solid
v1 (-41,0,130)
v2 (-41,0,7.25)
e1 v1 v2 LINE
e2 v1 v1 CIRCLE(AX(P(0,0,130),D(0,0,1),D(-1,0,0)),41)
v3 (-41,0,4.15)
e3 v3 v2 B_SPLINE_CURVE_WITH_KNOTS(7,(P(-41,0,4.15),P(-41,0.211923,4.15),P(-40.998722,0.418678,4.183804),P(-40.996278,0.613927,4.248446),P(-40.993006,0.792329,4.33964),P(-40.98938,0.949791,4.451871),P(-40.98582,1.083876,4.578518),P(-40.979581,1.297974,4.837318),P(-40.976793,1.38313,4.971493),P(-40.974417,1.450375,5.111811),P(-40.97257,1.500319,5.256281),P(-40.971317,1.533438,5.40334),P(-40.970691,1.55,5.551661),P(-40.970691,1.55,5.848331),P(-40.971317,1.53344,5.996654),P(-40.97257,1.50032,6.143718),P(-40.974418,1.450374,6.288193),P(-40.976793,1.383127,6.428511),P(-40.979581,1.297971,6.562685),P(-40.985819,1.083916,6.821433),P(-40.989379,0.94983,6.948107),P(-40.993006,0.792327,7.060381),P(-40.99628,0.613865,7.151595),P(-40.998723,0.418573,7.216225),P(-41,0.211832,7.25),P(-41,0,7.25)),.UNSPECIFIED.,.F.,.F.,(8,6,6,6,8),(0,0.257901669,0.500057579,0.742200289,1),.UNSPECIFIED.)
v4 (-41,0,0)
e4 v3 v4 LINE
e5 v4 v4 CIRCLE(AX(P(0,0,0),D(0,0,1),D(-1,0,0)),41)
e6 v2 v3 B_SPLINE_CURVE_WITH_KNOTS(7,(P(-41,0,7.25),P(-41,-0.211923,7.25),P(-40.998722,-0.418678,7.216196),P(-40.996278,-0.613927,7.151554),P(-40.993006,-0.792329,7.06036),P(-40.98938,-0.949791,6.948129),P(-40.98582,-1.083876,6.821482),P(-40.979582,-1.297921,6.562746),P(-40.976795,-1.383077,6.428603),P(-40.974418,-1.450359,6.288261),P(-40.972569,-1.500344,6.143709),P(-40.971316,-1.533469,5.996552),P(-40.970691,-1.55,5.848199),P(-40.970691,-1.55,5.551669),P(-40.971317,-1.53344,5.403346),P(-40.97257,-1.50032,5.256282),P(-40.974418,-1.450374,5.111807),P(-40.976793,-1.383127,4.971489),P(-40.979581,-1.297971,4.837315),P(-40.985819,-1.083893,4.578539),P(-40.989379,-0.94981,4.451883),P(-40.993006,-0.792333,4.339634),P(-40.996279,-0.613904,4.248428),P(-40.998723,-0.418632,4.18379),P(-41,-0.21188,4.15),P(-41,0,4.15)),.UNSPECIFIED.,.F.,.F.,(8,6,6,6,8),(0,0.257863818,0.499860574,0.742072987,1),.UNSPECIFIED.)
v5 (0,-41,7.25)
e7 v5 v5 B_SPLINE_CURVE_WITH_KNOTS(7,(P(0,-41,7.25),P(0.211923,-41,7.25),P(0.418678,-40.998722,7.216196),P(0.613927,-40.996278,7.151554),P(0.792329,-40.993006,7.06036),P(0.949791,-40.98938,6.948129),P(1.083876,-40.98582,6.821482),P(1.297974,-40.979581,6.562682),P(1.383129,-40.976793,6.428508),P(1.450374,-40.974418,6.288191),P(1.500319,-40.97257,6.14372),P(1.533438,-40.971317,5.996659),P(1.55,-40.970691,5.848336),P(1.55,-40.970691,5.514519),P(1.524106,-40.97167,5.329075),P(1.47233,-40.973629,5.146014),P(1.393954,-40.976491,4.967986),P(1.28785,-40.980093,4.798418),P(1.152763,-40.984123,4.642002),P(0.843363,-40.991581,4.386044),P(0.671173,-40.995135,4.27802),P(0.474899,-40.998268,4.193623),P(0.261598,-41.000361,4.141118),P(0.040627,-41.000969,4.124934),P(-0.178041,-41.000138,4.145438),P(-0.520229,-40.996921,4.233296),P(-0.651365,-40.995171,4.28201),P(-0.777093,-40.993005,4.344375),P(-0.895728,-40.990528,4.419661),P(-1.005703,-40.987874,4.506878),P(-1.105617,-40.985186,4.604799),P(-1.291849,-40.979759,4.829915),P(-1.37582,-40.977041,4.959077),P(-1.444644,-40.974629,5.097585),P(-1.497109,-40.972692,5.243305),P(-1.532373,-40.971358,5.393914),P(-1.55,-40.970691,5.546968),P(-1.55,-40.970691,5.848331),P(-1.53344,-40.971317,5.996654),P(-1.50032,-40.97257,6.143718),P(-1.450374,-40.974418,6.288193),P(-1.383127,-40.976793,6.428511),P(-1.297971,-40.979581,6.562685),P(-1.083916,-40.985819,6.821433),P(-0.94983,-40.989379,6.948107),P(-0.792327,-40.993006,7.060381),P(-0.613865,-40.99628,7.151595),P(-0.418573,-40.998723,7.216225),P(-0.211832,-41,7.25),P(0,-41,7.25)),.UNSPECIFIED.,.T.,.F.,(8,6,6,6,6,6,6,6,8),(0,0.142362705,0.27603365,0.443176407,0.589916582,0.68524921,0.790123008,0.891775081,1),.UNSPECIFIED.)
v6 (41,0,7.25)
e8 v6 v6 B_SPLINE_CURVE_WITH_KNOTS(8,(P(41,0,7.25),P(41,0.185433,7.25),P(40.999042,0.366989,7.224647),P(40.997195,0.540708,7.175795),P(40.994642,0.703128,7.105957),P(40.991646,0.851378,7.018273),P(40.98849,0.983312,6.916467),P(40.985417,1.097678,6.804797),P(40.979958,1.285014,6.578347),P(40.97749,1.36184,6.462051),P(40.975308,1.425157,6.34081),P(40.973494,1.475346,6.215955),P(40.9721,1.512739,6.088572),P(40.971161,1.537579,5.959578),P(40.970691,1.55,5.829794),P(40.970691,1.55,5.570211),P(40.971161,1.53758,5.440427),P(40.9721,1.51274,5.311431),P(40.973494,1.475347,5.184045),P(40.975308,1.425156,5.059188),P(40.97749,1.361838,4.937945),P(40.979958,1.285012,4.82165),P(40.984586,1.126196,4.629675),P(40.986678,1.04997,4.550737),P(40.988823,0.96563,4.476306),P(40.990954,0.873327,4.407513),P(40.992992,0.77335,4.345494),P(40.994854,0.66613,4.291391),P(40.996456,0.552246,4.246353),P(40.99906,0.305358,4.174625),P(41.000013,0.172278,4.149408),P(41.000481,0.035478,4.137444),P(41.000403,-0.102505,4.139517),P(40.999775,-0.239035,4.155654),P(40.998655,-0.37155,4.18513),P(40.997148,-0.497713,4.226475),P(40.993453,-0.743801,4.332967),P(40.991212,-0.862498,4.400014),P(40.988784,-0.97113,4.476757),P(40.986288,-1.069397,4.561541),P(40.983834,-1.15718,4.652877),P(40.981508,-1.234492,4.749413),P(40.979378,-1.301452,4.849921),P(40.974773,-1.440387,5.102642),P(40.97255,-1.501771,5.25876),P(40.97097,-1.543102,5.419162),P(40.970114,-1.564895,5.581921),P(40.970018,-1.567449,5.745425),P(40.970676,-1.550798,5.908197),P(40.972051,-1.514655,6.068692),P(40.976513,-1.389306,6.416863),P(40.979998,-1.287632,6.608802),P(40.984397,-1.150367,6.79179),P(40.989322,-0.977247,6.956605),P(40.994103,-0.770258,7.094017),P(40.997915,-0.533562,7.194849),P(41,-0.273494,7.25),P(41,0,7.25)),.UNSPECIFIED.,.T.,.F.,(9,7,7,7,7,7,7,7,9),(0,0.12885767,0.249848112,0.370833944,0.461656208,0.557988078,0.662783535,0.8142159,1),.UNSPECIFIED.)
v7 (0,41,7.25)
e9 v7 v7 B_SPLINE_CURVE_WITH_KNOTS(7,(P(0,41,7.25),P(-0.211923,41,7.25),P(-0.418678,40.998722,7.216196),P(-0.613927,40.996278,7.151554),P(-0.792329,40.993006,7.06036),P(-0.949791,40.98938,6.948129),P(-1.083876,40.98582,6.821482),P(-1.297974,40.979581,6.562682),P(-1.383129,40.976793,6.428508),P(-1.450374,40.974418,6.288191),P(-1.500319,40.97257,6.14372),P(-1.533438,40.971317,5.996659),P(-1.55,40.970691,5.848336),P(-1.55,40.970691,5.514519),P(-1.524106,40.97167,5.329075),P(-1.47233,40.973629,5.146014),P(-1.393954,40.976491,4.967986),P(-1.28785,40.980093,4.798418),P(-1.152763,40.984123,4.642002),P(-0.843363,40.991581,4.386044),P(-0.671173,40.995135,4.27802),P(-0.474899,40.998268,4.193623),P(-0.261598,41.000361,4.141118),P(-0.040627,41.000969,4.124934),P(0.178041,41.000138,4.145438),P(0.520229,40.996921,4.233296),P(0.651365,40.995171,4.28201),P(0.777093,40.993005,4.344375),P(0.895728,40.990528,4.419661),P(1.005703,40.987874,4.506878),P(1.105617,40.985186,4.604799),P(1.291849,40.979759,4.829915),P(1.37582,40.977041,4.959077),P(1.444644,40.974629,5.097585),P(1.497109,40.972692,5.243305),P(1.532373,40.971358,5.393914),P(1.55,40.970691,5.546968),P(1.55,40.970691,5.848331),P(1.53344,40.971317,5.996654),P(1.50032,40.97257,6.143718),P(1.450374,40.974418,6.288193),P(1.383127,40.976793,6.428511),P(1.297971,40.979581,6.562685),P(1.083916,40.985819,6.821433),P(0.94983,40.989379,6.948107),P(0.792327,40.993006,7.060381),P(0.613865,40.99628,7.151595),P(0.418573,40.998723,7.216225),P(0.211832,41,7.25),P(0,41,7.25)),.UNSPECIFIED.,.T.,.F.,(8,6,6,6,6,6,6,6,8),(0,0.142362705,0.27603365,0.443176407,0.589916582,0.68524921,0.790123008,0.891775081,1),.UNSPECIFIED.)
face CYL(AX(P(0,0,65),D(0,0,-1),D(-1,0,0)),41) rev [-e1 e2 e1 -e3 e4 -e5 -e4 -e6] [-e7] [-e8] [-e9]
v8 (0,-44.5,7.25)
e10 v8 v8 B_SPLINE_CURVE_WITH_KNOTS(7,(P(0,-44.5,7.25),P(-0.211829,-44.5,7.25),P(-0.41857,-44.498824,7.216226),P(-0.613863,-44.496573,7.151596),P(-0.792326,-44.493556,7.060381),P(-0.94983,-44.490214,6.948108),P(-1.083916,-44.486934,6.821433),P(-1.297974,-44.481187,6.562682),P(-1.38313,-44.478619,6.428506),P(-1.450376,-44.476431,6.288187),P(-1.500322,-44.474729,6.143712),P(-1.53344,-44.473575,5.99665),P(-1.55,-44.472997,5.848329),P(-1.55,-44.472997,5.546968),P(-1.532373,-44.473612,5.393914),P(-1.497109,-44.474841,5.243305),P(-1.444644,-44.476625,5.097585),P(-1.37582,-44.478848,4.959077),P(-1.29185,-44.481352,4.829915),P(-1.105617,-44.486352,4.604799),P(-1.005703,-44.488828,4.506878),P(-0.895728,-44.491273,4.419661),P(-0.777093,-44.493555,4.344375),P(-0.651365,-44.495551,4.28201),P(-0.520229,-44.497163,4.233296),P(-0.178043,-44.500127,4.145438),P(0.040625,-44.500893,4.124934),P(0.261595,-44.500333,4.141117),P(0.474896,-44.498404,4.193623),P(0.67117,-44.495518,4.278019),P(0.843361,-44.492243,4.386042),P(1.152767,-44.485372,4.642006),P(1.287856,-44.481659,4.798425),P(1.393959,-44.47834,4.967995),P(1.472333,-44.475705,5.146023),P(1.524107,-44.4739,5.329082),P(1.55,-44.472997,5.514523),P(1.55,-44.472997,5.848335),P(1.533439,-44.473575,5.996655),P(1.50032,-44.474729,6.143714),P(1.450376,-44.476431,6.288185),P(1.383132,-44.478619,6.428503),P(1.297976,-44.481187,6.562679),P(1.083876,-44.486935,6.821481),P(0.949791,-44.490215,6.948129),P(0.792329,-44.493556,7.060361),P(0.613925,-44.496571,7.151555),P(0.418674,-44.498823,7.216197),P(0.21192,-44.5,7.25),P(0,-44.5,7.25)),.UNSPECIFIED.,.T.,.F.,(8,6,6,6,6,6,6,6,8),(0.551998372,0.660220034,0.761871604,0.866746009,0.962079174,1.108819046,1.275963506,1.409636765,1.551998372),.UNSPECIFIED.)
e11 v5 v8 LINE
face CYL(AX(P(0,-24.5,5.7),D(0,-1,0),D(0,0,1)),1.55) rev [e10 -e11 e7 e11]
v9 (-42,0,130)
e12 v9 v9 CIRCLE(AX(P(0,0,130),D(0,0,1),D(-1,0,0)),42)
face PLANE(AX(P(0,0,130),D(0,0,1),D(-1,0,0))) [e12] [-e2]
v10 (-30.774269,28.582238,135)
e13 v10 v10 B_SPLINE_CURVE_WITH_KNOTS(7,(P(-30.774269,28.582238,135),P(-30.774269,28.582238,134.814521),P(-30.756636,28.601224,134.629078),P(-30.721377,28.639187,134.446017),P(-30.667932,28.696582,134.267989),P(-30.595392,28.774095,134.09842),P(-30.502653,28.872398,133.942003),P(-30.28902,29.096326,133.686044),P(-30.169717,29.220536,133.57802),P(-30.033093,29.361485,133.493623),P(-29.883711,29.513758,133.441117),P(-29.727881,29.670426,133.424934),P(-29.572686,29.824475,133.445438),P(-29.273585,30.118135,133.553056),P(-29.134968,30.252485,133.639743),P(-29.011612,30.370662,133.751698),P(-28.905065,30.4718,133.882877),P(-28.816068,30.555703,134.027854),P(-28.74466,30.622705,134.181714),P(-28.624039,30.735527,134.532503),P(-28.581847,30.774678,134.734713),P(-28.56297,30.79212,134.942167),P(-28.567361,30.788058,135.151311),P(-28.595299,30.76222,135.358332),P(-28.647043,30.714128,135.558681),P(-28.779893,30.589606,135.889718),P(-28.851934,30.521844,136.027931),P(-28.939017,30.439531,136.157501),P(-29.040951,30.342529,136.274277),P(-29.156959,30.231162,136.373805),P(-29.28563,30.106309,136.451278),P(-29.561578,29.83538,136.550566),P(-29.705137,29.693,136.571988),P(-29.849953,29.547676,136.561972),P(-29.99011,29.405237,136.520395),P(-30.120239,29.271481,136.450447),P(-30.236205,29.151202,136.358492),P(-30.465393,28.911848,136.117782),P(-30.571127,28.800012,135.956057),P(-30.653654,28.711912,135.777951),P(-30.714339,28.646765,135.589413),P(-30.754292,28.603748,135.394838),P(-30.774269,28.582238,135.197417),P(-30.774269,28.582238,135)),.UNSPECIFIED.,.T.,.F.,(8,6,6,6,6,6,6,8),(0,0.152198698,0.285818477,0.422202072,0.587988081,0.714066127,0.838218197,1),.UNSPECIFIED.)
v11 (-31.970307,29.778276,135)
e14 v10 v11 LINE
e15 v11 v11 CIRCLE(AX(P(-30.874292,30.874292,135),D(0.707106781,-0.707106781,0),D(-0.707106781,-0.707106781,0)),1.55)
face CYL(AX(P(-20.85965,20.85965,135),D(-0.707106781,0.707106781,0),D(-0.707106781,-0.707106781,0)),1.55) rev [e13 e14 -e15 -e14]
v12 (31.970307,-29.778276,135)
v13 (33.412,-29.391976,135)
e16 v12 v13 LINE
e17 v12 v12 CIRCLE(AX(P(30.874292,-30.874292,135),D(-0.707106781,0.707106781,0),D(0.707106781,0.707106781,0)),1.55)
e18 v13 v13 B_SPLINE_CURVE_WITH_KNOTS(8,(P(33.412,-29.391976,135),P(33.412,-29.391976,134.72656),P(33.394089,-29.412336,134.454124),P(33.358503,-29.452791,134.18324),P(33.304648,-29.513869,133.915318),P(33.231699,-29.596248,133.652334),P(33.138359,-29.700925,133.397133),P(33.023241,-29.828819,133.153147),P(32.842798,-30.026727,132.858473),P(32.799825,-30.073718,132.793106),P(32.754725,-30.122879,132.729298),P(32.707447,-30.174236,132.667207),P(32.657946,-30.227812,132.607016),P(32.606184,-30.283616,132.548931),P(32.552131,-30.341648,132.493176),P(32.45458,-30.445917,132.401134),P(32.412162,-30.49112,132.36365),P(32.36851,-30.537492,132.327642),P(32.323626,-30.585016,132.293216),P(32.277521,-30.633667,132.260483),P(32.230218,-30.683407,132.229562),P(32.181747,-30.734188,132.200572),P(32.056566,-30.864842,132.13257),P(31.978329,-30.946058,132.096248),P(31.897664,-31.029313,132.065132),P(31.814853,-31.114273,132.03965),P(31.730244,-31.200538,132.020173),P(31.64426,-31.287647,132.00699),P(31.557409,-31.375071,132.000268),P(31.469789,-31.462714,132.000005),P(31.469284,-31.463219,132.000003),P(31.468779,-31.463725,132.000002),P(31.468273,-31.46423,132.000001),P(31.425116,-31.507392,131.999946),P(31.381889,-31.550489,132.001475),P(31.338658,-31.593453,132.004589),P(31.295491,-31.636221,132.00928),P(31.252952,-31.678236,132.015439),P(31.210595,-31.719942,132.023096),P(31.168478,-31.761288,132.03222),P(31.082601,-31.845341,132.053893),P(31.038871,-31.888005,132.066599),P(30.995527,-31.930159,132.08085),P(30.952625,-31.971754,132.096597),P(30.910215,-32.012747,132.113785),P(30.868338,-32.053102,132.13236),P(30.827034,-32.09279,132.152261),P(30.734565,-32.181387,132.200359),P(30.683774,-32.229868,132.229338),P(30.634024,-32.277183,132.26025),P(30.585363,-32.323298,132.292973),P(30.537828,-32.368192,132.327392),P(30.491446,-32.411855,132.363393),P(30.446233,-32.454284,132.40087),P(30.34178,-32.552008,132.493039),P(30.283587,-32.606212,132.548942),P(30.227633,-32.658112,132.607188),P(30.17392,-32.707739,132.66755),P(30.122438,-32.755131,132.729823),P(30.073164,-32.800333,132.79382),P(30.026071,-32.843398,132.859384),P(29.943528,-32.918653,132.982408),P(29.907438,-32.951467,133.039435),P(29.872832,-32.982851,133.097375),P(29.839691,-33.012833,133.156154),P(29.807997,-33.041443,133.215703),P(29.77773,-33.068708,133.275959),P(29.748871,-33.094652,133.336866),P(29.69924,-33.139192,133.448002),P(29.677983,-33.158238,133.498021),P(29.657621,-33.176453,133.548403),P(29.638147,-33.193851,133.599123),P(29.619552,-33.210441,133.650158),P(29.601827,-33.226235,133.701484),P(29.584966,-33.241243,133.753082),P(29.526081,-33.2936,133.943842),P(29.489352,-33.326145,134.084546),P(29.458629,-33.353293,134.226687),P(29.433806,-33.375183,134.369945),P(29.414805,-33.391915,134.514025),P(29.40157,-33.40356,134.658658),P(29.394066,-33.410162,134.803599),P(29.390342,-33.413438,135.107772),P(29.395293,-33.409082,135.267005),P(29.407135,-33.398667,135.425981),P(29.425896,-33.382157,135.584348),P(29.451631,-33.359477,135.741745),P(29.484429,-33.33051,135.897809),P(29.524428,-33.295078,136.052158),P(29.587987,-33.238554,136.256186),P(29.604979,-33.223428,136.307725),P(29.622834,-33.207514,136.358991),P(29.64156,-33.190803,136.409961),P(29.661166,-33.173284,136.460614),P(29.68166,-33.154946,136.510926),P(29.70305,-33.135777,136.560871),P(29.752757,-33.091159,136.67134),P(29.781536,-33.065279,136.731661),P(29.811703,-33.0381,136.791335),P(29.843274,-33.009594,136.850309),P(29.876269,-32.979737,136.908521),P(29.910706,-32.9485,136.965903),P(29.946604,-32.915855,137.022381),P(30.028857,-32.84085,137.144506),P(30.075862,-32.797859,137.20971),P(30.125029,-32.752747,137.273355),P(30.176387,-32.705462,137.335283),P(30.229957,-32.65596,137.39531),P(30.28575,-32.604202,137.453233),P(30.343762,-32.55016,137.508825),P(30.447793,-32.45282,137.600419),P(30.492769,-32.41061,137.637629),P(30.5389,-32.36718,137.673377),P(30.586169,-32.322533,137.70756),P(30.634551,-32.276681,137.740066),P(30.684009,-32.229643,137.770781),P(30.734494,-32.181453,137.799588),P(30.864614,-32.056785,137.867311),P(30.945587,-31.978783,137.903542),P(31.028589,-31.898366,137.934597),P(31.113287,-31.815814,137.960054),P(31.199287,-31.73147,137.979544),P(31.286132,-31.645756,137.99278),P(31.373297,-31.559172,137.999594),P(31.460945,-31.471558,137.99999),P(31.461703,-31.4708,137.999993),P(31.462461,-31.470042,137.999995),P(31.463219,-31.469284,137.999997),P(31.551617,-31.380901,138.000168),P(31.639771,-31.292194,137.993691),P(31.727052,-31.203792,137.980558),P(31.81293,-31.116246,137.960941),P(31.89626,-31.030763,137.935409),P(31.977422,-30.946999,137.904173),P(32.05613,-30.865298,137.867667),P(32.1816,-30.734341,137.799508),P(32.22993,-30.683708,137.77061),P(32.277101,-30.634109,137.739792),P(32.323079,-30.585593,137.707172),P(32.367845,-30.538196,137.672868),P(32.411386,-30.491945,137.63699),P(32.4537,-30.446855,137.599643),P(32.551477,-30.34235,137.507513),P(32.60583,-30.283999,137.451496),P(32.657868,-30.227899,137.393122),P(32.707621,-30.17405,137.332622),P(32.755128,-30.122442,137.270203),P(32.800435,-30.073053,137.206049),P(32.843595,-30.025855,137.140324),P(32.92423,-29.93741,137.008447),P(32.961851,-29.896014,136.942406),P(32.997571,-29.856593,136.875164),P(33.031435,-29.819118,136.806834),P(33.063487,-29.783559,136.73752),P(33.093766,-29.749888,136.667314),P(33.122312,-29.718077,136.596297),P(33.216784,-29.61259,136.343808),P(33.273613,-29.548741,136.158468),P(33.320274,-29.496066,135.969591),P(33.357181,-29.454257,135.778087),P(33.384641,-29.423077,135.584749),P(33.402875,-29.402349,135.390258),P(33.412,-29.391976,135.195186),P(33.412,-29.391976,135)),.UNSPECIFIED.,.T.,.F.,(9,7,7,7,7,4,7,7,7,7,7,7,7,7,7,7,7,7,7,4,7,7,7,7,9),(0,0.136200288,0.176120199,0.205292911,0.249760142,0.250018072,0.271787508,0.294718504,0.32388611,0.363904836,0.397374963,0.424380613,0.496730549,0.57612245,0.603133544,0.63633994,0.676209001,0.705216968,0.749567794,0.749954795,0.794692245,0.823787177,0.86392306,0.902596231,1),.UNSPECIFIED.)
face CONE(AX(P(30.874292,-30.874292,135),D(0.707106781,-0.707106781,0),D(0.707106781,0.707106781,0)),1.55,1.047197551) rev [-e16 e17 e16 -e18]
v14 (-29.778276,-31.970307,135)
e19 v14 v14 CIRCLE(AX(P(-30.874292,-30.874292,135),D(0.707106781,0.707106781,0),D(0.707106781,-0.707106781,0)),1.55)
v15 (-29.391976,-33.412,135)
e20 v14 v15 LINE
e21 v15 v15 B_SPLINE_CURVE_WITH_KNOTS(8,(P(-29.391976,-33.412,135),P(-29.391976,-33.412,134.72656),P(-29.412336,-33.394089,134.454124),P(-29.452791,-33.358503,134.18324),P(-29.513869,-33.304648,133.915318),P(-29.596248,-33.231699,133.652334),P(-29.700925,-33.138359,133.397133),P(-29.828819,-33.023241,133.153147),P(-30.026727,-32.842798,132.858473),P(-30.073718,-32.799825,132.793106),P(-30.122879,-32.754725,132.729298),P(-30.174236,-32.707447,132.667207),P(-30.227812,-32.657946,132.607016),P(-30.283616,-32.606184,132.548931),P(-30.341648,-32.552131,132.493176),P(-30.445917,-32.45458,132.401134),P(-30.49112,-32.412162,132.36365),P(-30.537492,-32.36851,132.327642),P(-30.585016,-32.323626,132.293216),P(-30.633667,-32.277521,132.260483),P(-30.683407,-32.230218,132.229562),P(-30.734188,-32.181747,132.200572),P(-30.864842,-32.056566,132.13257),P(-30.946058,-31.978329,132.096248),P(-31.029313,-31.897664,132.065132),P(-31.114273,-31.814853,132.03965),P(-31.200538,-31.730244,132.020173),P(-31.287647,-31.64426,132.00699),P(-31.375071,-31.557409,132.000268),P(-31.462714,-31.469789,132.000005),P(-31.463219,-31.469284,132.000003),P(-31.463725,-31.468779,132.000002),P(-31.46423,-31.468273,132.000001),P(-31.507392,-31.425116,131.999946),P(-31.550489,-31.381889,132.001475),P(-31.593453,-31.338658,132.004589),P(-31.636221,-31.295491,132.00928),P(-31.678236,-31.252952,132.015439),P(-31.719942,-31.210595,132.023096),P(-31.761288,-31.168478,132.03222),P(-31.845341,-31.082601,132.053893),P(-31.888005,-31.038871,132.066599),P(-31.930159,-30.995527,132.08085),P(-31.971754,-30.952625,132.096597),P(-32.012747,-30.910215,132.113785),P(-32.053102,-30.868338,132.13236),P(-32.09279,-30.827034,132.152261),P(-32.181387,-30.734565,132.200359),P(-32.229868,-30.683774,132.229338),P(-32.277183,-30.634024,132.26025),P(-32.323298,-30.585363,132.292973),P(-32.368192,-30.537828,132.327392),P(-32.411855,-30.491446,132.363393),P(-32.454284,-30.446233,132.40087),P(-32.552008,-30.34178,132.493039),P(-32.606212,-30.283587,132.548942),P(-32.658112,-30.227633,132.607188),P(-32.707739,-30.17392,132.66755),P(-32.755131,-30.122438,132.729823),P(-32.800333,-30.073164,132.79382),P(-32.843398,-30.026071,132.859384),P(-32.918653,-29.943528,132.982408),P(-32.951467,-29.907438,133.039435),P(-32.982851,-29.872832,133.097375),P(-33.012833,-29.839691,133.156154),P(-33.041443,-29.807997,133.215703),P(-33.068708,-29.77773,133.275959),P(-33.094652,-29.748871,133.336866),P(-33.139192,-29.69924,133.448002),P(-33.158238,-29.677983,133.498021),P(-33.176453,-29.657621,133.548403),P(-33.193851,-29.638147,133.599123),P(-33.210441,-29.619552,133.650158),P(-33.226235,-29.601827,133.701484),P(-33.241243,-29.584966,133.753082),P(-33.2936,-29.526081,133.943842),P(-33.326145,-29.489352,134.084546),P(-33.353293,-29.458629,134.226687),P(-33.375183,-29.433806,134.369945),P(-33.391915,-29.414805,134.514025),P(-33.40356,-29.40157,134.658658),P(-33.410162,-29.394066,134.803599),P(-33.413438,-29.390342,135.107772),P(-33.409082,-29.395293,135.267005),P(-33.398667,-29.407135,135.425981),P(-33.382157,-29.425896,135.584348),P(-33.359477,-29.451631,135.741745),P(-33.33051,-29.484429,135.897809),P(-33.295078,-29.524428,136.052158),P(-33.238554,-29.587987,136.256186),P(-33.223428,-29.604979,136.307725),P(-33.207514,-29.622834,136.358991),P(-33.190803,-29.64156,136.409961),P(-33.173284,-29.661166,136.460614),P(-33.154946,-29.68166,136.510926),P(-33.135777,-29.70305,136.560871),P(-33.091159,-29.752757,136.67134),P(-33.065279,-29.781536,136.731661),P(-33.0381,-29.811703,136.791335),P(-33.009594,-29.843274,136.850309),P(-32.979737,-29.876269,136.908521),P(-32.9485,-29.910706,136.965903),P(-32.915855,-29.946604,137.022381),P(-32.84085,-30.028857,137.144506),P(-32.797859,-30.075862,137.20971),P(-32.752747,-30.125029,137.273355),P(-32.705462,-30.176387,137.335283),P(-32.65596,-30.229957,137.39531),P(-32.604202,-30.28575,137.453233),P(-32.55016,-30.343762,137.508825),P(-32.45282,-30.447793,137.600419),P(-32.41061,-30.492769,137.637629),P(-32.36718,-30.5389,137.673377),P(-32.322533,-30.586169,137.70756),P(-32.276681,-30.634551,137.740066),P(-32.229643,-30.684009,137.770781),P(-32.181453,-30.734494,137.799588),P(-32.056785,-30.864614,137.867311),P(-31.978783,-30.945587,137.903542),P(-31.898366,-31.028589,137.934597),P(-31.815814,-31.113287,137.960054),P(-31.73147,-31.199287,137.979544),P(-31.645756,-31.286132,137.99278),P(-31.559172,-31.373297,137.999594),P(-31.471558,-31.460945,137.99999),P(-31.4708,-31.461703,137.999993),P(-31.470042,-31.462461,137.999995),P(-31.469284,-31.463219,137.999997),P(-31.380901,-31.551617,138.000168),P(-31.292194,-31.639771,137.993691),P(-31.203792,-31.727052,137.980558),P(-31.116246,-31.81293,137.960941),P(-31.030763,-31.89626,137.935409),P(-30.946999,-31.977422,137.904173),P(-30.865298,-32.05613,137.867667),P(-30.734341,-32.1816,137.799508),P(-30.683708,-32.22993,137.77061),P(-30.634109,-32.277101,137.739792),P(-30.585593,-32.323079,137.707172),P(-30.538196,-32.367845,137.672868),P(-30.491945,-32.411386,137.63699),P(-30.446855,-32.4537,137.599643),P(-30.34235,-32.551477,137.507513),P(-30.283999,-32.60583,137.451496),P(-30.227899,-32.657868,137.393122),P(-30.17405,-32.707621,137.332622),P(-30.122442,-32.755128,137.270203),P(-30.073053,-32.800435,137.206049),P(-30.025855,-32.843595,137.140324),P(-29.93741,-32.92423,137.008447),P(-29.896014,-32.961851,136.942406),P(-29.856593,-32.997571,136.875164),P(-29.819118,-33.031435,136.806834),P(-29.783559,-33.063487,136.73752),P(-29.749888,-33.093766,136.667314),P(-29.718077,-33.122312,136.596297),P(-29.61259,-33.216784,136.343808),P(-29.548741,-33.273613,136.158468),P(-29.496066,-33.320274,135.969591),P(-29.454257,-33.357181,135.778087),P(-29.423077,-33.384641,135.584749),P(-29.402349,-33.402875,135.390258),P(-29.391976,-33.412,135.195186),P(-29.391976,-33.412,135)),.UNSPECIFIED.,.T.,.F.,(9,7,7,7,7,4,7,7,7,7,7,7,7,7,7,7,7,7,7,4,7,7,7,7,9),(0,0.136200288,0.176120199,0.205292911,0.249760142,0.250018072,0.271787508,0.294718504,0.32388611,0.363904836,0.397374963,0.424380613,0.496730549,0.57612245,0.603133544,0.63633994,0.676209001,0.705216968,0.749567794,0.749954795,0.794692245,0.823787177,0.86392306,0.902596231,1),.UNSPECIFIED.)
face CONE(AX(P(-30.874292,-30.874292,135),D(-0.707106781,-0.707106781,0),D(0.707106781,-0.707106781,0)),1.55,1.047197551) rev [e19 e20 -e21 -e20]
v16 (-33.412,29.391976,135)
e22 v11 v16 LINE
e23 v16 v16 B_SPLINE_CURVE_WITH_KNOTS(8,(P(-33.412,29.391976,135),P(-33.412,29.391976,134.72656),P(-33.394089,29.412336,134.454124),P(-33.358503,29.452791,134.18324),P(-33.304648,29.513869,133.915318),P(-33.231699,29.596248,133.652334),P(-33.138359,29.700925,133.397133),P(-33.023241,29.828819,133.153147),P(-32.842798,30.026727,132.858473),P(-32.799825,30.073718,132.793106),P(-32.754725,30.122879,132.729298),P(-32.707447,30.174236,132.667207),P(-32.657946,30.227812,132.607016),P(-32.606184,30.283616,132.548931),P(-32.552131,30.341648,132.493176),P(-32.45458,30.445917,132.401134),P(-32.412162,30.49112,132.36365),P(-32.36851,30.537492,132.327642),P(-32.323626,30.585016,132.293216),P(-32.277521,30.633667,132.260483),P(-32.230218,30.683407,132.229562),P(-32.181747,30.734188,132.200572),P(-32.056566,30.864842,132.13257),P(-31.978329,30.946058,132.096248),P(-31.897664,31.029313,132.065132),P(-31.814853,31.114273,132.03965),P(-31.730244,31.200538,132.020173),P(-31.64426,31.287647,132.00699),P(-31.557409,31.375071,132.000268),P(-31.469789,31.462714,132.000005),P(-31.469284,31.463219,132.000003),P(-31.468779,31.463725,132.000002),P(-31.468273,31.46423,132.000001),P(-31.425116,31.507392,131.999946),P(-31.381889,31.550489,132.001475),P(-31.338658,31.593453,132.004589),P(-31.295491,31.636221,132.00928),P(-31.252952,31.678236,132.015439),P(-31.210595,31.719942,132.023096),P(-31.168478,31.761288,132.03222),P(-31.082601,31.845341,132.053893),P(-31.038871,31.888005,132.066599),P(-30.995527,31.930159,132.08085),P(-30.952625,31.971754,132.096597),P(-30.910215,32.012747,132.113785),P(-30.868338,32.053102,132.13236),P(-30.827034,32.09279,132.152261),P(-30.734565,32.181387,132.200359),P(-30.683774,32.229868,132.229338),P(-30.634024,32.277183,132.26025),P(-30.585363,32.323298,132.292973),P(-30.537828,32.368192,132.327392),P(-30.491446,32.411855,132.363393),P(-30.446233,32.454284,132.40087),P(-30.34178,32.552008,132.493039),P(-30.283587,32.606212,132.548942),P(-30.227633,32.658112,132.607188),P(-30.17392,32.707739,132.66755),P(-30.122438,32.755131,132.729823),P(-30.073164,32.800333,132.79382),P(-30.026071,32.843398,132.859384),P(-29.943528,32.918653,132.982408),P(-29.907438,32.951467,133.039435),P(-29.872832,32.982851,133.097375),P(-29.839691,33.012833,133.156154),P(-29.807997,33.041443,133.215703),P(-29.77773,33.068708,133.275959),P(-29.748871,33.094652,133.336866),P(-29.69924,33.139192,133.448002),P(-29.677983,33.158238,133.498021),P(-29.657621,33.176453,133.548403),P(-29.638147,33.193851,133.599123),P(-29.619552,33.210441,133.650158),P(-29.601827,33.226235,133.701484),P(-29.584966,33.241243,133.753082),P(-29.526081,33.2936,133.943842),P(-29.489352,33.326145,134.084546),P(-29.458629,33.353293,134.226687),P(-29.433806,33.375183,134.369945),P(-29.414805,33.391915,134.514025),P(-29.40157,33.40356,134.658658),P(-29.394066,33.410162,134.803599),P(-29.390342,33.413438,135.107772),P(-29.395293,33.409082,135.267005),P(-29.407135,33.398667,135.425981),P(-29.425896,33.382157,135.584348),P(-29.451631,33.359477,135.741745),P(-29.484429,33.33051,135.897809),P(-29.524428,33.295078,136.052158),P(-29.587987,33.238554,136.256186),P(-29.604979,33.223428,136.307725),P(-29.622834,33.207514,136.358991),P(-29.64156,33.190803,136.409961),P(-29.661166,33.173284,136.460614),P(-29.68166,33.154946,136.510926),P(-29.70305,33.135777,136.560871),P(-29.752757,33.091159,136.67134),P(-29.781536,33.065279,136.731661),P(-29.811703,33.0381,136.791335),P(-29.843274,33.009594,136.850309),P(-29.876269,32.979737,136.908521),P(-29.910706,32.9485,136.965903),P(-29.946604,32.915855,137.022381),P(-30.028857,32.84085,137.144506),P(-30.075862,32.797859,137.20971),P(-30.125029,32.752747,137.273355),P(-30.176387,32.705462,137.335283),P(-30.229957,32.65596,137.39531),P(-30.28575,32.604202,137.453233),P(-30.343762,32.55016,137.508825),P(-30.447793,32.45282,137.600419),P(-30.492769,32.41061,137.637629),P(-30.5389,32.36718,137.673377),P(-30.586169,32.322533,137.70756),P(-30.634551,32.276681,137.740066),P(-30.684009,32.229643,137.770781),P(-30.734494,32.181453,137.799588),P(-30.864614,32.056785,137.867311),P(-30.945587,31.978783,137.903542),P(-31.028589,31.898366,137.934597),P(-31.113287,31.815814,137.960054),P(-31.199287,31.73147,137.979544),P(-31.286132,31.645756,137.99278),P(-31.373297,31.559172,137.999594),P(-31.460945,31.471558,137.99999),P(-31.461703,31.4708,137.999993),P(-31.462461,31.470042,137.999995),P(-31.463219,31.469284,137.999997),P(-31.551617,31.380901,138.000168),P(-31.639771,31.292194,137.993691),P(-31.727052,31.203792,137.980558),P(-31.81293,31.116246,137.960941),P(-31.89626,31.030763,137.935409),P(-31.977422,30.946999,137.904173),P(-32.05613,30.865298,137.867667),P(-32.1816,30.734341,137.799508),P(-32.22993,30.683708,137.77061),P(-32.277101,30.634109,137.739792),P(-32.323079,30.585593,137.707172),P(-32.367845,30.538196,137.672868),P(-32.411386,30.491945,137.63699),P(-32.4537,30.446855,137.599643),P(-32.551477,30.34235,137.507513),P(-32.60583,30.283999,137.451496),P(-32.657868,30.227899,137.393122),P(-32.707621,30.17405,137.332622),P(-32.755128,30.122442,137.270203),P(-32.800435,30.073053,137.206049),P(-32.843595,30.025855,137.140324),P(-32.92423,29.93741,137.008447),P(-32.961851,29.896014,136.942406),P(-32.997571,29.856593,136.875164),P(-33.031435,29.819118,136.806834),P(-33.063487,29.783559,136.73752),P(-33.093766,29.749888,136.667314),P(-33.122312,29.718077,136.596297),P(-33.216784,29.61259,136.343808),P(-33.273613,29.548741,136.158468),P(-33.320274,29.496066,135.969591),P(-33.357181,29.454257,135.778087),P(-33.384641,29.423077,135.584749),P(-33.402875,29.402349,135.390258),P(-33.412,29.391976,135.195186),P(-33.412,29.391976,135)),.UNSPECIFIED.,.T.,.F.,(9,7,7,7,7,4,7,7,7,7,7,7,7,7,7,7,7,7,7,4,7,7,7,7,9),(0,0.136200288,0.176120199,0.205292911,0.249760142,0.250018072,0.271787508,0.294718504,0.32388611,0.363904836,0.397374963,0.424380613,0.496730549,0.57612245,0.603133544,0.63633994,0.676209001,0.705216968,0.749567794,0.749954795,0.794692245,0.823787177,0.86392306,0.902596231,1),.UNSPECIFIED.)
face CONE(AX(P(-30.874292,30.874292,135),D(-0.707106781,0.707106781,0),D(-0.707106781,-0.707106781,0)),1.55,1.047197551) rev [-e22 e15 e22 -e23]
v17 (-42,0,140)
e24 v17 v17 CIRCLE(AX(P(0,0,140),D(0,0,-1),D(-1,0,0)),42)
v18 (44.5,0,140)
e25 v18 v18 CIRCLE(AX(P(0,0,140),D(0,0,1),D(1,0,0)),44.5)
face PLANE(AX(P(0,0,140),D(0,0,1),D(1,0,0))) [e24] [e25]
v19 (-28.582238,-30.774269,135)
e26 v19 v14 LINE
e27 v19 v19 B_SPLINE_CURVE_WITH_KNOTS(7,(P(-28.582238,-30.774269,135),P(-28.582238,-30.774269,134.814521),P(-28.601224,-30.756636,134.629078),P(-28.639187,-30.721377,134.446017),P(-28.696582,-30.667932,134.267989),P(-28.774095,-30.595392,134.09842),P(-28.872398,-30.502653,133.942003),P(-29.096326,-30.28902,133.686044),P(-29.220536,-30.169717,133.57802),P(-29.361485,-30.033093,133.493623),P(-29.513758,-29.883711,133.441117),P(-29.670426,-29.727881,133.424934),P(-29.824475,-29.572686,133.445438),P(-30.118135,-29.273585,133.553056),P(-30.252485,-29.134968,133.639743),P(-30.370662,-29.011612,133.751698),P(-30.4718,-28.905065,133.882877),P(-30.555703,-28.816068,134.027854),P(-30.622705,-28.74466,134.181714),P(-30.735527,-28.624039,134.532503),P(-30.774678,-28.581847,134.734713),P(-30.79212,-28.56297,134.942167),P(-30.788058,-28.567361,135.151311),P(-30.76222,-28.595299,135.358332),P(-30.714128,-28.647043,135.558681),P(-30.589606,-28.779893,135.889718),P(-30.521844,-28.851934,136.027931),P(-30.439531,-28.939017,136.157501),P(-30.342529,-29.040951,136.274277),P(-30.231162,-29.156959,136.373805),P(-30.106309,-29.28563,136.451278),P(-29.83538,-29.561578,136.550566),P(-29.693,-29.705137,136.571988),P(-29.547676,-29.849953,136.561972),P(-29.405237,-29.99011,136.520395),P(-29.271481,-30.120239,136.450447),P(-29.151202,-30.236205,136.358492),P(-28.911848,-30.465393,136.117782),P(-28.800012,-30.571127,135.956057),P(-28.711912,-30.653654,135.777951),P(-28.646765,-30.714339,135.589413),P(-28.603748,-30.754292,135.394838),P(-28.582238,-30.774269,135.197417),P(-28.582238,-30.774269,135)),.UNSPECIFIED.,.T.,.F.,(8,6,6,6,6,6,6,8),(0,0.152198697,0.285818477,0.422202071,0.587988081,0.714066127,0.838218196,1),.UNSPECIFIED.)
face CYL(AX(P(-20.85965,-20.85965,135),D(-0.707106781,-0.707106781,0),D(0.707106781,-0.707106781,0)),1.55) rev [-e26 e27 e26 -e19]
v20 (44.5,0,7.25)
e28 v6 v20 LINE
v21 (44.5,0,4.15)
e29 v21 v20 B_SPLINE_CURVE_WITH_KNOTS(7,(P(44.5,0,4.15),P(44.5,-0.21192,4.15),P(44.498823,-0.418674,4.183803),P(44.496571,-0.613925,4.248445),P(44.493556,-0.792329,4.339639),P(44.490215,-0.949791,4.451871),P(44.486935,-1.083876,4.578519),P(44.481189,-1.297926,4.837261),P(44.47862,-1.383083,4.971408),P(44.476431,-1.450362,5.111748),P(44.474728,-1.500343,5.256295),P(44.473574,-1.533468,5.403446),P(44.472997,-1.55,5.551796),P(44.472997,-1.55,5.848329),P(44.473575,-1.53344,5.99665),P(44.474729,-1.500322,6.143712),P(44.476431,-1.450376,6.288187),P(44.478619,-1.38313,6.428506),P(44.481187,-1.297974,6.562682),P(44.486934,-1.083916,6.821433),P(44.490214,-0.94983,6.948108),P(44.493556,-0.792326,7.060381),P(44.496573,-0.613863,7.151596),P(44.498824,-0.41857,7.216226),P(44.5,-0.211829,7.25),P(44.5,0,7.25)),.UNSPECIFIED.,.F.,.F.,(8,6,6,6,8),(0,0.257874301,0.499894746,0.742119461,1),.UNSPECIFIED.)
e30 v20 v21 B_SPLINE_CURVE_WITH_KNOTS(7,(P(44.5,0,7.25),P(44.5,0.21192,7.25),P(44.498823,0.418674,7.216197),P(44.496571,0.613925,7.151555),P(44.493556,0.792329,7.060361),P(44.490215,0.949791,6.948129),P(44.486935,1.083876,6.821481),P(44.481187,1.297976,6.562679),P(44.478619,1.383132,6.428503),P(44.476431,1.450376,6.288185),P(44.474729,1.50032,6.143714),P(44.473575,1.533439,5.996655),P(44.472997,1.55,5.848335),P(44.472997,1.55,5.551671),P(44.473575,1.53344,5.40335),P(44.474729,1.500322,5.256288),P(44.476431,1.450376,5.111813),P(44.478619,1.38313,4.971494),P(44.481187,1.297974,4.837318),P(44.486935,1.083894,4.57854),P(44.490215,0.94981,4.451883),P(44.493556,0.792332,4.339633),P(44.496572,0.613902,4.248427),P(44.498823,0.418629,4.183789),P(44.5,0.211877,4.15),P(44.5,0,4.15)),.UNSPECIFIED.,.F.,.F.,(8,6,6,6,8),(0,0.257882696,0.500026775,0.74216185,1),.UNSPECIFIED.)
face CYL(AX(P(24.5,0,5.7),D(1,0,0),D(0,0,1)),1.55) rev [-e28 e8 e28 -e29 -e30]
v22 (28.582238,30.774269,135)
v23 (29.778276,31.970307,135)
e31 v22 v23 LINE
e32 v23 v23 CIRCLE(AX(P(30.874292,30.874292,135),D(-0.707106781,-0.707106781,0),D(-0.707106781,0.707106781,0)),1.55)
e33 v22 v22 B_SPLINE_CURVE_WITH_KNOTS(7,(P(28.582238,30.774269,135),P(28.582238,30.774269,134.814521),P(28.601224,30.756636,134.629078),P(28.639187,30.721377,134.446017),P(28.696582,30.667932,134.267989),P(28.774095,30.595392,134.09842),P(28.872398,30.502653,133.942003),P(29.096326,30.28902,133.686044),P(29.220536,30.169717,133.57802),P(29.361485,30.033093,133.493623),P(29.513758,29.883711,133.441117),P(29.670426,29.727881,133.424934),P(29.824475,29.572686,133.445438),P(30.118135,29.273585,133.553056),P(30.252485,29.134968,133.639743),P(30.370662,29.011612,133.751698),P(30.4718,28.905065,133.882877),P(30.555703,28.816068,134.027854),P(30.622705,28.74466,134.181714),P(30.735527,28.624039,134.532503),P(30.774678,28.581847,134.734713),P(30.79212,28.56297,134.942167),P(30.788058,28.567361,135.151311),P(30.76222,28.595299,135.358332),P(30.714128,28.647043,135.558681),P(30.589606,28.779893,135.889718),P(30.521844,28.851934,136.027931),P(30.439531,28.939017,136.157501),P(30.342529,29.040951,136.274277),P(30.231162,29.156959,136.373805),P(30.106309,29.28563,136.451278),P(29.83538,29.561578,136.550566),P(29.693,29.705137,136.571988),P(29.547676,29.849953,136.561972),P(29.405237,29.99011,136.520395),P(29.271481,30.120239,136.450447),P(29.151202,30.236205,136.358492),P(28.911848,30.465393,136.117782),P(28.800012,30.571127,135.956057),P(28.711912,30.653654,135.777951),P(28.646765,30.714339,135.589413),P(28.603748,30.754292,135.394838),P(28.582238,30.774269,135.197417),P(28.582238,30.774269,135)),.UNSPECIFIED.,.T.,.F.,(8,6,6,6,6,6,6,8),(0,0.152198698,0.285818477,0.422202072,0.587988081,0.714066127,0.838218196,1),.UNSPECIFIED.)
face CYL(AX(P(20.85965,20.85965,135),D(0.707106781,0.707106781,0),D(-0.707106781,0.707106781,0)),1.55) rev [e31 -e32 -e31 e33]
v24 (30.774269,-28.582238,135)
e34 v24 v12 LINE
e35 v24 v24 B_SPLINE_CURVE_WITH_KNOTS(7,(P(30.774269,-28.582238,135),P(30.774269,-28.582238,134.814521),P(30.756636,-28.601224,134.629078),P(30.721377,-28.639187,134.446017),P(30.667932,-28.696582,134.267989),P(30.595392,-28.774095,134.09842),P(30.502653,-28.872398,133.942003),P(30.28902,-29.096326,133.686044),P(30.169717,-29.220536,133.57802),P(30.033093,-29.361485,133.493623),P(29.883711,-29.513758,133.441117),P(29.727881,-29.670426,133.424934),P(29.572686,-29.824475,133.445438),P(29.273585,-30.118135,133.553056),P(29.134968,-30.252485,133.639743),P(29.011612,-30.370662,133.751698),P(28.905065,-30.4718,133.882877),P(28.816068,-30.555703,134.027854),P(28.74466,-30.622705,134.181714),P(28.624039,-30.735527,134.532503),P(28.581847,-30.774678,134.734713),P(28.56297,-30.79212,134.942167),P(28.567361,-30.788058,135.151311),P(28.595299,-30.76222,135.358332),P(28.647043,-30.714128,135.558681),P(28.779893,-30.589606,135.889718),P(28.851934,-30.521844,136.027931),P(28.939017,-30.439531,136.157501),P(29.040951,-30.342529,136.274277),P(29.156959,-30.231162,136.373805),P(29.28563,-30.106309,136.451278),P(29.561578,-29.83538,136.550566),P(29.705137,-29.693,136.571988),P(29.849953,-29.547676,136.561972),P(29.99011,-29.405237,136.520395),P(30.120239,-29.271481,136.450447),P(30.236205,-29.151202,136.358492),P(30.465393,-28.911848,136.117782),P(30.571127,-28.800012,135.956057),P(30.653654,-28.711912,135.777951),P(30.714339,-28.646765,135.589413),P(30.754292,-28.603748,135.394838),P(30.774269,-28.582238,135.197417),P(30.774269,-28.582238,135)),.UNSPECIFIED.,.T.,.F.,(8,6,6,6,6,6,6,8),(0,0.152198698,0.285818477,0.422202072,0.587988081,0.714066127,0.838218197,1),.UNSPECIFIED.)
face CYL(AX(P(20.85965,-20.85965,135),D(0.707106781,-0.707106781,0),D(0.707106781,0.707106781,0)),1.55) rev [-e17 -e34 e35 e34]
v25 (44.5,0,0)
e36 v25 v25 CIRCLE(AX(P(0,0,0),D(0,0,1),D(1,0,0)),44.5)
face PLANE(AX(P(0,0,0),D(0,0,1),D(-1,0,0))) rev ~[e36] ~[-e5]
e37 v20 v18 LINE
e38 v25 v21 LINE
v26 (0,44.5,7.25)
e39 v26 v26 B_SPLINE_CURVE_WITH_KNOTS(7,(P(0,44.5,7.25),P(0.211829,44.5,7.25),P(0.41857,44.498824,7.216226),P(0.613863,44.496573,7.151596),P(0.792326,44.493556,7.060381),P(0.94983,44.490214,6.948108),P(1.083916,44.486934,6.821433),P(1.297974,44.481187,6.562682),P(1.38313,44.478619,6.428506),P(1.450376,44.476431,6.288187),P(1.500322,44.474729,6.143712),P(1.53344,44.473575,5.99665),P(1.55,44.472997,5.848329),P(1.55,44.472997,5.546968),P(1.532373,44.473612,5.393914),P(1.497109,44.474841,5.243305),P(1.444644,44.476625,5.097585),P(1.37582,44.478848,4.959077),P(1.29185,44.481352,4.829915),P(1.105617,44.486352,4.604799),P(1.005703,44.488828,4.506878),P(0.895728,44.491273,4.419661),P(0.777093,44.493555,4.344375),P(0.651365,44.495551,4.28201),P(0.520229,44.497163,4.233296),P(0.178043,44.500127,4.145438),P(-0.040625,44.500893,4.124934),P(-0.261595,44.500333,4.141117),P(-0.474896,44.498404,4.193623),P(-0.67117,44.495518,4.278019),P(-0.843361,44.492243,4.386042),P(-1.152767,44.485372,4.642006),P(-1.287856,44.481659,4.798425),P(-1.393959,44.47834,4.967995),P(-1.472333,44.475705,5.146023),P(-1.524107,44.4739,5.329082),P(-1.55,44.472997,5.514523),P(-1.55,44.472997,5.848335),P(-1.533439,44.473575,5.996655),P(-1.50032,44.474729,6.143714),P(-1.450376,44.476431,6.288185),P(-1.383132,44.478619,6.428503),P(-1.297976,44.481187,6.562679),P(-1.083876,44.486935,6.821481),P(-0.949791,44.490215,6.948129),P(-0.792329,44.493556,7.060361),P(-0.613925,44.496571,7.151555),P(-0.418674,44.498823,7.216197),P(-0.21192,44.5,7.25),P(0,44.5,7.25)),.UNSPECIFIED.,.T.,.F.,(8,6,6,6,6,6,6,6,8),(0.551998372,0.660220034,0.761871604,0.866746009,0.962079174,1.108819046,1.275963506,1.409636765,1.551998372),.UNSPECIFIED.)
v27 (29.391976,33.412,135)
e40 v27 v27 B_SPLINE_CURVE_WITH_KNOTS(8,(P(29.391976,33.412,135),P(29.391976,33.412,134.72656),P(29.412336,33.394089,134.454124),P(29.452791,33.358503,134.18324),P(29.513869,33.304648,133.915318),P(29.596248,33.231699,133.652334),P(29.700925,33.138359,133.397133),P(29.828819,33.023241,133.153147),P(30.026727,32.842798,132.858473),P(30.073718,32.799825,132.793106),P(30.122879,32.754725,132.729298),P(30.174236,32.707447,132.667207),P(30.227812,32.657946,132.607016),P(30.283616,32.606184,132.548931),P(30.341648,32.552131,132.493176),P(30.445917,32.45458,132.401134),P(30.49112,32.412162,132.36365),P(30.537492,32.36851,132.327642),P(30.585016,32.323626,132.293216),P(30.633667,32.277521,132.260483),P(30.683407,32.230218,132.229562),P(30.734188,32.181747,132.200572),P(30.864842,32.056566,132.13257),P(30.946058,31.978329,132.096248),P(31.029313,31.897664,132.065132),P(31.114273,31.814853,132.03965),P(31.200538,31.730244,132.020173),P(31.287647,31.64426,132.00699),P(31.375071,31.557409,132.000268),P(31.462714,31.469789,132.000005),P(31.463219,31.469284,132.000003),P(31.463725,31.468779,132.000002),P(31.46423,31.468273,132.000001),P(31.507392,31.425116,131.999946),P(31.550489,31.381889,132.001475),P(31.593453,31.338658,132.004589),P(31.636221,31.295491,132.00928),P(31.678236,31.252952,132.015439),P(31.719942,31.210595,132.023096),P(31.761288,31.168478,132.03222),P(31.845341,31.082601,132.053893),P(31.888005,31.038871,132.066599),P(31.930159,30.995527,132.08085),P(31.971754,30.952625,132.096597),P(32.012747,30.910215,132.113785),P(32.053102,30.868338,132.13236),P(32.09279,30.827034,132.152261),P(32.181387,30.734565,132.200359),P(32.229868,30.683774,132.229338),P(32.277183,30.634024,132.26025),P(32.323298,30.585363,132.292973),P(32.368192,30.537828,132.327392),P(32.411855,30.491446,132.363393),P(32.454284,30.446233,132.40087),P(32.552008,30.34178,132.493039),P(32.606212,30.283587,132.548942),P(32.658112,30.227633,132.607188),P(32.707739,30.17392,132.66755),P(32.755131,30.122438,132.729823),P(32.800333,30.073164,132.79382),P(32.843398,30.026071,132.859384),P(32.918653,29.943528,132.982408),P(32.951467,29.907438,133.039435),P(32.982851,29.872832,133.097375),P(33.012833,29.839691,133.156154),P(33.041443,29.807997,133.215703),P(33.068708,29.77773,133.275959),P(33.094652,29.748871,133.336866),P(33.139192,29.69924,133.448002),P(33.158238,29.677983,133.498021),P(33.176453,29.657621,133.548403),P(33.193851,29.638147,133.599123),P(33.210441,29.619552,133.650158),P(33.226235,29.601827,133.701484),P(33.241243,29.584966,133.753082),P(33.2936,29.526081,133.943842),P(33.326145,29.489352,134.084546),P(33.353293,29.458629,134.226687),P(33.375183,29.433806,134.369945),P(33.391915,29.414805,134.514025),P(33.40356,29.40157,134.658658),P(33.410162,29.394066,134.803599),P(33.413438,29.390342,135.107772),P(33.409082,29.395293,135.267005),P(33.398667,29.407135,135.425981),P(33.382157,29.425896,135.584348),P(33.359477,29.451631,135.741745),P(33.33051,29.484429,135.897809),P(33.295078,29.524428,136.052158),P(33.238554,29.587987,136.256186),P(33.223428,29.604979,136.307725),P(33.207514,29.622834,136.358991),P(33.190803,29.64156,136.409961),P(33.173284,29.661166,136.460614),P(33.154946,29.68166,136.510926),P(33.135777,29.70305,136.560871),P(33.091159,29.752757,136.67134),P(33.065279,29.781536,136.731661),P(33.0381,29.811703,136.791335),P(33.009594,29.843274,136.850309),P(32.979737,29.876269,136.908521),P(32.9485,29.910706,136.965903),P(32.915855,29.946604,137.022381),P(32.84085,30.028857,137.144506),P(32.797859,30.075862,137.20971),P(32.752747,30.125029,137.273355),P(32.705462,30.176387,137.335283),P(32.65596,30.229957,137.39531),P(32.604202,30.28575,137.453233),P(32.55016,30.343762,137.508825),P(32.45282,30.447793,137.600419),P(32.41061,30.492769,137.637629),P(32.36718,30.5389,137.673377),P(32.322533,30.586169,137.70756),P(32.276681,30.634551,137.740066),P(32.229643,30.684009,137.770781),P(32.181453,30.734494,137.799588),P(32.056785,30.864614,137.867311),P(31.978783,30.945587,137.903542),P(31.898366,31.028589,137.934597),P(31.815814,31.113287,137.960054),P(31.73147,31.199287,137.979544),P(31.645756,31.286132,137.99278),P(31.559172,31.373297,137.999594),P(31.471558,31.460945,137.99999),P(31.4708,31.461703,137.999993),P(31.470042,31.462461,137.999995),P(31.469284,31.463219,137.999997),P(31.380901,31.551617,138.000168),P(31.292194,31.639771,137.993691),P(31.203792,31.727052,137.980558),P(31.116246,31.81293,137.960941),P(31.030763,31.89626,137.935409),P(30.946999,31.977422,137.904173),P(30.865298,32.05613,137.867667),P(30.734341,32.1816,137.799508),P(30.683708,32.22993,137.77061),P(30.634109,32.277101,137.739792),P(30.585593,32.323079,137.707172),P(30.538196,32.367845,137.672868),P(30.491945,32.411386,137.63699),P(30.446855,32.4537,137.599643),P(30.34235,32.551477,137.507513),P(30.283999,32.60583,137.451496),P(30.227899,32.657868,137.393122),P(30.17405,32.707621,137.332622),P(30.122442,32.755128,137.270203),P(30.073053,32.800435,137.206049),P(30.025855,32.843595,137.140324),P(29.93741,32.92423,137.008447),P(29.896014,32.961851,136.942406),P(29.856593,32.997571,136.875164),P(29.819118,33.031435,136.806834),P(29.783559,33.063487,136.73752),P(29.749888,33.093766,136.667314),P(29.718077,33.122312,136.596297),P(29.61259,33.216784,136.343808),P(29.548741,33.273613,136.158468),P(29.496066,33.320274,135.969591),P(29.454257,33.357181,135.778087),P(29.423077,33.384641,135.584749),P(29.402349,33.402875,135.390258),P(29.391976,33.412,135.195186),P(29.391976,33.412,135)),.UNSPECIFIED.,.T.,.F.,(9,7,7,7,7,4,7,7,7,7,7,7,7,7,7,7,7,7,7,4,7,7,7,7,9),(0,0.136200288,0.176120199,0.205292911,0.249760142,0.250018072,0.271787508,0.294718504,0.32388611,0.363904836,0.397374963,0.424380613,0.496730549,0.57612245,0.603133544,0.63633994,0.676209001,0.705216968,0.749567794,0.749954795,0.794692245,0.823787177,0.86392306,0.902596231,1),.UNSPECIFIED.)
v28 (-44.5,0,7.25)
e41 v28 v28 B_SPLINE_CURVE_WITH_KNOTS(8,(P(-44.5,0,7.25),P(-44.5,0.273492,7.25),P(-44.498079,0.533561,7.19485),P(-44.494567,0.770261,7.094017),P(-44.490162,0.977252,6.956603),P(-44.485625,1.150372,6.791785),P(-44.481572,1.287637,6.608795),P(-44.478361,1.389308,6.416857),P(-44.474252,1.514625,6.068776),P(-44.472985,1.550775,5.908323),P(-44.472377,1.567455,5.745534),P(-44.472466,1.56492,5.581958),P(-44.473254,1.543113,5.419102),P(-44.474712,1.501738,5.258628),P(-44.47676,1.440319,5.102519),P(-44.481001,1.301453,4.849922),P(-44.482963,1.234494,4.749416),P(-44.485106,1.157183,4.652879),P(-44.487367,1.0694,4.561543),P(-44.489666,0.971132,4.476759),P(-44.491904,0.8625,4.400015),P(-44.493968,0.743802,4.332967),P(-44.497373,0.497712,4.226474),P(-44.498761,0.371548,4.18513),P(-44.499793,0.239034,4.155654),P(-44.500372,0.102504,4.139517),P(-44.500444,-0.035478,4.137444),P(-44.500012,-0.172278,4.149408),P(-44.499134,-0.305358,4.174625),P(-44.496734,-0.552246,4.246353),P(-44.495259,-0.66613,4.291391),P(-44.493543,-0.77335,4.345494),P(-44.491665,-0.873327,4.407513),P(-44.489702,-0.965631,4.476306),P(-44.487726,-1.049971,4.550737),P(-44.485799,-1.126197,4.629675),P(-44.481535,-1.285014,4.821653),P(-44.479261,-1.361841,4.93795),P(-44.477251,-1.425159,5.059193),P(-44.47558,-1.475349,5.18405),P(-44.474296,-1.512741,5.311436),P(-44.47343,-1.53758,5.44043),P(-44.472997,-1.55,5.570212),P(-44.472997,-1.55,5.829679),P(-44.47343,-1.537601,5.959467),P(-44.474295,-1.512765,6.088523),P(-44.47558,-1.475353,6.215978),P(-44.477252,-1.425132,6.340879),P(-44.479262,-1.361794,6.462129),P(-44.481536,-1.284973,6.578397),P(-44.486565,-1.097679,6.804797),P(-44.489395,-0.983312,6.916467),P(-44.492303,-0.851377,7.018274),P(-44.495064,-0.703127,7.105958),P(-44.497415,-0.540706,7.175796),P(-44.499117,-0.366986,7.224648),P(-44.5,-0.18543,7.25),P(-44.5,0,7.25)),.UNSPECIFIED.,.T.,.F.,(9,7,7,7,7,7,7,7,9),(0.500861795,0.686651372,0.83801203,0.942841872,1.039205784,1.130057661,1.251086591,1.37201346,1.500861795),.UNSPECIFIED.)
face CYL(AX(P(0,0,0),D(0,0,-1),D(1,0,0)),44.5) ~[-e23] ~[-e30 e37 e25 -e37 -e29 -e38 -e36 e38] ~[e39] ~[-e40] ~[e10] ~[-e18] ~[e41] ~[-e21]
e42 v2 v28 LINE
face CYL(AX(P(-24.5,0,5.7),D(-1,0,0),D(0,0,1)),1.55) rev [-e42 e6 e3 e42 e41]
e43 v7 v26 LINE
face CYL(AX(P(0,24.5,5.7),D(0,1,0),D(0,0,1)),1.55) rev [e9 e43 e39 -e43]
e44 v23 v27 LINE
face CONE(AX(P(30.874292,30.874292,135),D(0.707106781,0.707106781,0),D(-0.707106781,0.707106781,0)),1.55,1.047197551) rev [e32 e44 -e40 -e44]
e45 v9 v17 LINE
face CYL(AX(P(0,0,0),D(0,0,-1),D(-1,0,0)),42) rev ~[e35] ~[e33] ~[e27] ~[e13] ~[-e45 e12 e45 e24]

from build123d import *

# Parameters (mm, degrees)
ESQUISSE1_R                  = 44.5
BOSS_EXTRU_1_DEPTH           = 140
ESQUISSE2_R                  = 42
ENL_V_MAT_EXTRU_1_DEPTH      = 150
R_P_TITION_CIRCULAIRE1_COUNT = 4
ESQUISSE8_W                  = 1
ESQUISSE8_H                  = 130
R_P_TITION_CIRCULAIRE2_COUNT = 4


with BuildPart() as part:
    # Esquisse1 → Boss.-Extru.1 (new body)
    with BuildSketch(Plane.XY):
        Circle(ESQUISSE1_R)
    extrude(amount=BOSS_EXTRU_1_DEPTH)

    # Esquisse2 → Enlèv. mat.-Extru.1 (cut)
    with BuildSketch(Plane(origin=(0, 0, 0), x_dir=(-1, 0, 0), z_dir=(0, 0, -1))):
        Circle(ESQUISSE2_R)
    extrude(amount=-ENL_V_MAT_EXTRU_1_DEPTH, mode=Mode.SUBTRACT)

    # Esquisse5 → Dégagement M2.51 (revolve, cut)
    with BuildSketch(Plane(origin=(-31.466251763, 31.466251763, 135), x_dir=(-0.707106781, -0.707106781, 0), z_dir=(0, 0, 1))):
        Polygon((0, 0), (0, 15.931333959), (1.55, 15), (1.55, 0.83715789), (3, 0), align=None)
    d_gagement_m2_51 = revolve(axis=Axis((-35.956379823, 35.956379823, 135), (0.707106781, -0.707106781, 0)), mode=Mode.SUBTRACT)

    # Répétition circulaire1: Dégagement M2.51 ×4 about axis
    r_p_tition_circulaire1_axis = Axis((0, 0, 150), (0, 0, -1))
    for i in range(1, R_P_TITION_CIRCULAIRE1_COUNT):
        add(d_gagement_m2_51.rotate(r_p_tition_circulaire1_axis, i * 360 / R_P_TITION_CIRCULAIRE1_COUNT), mode=Mode.SUBTRACT)

    # Esquisse8 → Révolution1 (revolve)
    with BuildSketch(Plane(origin=(0, 0, 0), x_dir=(1, 0, 0), z_dir=(0, 1, 0))):
        with Locations((-41.5, -65)):
            Rectangle(ESQUISSE8_W, ESQUISSE8_H)
    revolve(axis=Axis((0, 0, -17.420915561), (0, 0, 1)))

    # Esquisse7 → Dégagement M2.52 (revolve, cut)
    with BuildSketch(Plane(origin=(-44.5, 0, 5.7), x_dir=(0, 0, 1), z_dir=(0, 1, 0))):
        Polygon((0, 0), (0, 20.931333959), (1.55, 20), (1.55, 0), align=None)
    d_gagement_m2_52 = revolve(axis=Axis((-50.85, 0, 5.7), (1, 0, 0)), mode=Mode.SUBTRACT)

    # Répétition circulaire2: Dégagement M2.52 ×4 about axis
    r_p_tition_circulaire2_axis = Axis((0, 0, 0), (0, 0, 1))
    for i in range(1, R_P_TITION_CIRCULAIRE2_COUNT):
        add(d_gagement_m2_52.rotate(r_p_tition_circulaire2_axis, i * 360 / R_P_TITION_CIRCULAIRE2_COUNT), mode=Mode.SUBTRACT)


solid = part.part
